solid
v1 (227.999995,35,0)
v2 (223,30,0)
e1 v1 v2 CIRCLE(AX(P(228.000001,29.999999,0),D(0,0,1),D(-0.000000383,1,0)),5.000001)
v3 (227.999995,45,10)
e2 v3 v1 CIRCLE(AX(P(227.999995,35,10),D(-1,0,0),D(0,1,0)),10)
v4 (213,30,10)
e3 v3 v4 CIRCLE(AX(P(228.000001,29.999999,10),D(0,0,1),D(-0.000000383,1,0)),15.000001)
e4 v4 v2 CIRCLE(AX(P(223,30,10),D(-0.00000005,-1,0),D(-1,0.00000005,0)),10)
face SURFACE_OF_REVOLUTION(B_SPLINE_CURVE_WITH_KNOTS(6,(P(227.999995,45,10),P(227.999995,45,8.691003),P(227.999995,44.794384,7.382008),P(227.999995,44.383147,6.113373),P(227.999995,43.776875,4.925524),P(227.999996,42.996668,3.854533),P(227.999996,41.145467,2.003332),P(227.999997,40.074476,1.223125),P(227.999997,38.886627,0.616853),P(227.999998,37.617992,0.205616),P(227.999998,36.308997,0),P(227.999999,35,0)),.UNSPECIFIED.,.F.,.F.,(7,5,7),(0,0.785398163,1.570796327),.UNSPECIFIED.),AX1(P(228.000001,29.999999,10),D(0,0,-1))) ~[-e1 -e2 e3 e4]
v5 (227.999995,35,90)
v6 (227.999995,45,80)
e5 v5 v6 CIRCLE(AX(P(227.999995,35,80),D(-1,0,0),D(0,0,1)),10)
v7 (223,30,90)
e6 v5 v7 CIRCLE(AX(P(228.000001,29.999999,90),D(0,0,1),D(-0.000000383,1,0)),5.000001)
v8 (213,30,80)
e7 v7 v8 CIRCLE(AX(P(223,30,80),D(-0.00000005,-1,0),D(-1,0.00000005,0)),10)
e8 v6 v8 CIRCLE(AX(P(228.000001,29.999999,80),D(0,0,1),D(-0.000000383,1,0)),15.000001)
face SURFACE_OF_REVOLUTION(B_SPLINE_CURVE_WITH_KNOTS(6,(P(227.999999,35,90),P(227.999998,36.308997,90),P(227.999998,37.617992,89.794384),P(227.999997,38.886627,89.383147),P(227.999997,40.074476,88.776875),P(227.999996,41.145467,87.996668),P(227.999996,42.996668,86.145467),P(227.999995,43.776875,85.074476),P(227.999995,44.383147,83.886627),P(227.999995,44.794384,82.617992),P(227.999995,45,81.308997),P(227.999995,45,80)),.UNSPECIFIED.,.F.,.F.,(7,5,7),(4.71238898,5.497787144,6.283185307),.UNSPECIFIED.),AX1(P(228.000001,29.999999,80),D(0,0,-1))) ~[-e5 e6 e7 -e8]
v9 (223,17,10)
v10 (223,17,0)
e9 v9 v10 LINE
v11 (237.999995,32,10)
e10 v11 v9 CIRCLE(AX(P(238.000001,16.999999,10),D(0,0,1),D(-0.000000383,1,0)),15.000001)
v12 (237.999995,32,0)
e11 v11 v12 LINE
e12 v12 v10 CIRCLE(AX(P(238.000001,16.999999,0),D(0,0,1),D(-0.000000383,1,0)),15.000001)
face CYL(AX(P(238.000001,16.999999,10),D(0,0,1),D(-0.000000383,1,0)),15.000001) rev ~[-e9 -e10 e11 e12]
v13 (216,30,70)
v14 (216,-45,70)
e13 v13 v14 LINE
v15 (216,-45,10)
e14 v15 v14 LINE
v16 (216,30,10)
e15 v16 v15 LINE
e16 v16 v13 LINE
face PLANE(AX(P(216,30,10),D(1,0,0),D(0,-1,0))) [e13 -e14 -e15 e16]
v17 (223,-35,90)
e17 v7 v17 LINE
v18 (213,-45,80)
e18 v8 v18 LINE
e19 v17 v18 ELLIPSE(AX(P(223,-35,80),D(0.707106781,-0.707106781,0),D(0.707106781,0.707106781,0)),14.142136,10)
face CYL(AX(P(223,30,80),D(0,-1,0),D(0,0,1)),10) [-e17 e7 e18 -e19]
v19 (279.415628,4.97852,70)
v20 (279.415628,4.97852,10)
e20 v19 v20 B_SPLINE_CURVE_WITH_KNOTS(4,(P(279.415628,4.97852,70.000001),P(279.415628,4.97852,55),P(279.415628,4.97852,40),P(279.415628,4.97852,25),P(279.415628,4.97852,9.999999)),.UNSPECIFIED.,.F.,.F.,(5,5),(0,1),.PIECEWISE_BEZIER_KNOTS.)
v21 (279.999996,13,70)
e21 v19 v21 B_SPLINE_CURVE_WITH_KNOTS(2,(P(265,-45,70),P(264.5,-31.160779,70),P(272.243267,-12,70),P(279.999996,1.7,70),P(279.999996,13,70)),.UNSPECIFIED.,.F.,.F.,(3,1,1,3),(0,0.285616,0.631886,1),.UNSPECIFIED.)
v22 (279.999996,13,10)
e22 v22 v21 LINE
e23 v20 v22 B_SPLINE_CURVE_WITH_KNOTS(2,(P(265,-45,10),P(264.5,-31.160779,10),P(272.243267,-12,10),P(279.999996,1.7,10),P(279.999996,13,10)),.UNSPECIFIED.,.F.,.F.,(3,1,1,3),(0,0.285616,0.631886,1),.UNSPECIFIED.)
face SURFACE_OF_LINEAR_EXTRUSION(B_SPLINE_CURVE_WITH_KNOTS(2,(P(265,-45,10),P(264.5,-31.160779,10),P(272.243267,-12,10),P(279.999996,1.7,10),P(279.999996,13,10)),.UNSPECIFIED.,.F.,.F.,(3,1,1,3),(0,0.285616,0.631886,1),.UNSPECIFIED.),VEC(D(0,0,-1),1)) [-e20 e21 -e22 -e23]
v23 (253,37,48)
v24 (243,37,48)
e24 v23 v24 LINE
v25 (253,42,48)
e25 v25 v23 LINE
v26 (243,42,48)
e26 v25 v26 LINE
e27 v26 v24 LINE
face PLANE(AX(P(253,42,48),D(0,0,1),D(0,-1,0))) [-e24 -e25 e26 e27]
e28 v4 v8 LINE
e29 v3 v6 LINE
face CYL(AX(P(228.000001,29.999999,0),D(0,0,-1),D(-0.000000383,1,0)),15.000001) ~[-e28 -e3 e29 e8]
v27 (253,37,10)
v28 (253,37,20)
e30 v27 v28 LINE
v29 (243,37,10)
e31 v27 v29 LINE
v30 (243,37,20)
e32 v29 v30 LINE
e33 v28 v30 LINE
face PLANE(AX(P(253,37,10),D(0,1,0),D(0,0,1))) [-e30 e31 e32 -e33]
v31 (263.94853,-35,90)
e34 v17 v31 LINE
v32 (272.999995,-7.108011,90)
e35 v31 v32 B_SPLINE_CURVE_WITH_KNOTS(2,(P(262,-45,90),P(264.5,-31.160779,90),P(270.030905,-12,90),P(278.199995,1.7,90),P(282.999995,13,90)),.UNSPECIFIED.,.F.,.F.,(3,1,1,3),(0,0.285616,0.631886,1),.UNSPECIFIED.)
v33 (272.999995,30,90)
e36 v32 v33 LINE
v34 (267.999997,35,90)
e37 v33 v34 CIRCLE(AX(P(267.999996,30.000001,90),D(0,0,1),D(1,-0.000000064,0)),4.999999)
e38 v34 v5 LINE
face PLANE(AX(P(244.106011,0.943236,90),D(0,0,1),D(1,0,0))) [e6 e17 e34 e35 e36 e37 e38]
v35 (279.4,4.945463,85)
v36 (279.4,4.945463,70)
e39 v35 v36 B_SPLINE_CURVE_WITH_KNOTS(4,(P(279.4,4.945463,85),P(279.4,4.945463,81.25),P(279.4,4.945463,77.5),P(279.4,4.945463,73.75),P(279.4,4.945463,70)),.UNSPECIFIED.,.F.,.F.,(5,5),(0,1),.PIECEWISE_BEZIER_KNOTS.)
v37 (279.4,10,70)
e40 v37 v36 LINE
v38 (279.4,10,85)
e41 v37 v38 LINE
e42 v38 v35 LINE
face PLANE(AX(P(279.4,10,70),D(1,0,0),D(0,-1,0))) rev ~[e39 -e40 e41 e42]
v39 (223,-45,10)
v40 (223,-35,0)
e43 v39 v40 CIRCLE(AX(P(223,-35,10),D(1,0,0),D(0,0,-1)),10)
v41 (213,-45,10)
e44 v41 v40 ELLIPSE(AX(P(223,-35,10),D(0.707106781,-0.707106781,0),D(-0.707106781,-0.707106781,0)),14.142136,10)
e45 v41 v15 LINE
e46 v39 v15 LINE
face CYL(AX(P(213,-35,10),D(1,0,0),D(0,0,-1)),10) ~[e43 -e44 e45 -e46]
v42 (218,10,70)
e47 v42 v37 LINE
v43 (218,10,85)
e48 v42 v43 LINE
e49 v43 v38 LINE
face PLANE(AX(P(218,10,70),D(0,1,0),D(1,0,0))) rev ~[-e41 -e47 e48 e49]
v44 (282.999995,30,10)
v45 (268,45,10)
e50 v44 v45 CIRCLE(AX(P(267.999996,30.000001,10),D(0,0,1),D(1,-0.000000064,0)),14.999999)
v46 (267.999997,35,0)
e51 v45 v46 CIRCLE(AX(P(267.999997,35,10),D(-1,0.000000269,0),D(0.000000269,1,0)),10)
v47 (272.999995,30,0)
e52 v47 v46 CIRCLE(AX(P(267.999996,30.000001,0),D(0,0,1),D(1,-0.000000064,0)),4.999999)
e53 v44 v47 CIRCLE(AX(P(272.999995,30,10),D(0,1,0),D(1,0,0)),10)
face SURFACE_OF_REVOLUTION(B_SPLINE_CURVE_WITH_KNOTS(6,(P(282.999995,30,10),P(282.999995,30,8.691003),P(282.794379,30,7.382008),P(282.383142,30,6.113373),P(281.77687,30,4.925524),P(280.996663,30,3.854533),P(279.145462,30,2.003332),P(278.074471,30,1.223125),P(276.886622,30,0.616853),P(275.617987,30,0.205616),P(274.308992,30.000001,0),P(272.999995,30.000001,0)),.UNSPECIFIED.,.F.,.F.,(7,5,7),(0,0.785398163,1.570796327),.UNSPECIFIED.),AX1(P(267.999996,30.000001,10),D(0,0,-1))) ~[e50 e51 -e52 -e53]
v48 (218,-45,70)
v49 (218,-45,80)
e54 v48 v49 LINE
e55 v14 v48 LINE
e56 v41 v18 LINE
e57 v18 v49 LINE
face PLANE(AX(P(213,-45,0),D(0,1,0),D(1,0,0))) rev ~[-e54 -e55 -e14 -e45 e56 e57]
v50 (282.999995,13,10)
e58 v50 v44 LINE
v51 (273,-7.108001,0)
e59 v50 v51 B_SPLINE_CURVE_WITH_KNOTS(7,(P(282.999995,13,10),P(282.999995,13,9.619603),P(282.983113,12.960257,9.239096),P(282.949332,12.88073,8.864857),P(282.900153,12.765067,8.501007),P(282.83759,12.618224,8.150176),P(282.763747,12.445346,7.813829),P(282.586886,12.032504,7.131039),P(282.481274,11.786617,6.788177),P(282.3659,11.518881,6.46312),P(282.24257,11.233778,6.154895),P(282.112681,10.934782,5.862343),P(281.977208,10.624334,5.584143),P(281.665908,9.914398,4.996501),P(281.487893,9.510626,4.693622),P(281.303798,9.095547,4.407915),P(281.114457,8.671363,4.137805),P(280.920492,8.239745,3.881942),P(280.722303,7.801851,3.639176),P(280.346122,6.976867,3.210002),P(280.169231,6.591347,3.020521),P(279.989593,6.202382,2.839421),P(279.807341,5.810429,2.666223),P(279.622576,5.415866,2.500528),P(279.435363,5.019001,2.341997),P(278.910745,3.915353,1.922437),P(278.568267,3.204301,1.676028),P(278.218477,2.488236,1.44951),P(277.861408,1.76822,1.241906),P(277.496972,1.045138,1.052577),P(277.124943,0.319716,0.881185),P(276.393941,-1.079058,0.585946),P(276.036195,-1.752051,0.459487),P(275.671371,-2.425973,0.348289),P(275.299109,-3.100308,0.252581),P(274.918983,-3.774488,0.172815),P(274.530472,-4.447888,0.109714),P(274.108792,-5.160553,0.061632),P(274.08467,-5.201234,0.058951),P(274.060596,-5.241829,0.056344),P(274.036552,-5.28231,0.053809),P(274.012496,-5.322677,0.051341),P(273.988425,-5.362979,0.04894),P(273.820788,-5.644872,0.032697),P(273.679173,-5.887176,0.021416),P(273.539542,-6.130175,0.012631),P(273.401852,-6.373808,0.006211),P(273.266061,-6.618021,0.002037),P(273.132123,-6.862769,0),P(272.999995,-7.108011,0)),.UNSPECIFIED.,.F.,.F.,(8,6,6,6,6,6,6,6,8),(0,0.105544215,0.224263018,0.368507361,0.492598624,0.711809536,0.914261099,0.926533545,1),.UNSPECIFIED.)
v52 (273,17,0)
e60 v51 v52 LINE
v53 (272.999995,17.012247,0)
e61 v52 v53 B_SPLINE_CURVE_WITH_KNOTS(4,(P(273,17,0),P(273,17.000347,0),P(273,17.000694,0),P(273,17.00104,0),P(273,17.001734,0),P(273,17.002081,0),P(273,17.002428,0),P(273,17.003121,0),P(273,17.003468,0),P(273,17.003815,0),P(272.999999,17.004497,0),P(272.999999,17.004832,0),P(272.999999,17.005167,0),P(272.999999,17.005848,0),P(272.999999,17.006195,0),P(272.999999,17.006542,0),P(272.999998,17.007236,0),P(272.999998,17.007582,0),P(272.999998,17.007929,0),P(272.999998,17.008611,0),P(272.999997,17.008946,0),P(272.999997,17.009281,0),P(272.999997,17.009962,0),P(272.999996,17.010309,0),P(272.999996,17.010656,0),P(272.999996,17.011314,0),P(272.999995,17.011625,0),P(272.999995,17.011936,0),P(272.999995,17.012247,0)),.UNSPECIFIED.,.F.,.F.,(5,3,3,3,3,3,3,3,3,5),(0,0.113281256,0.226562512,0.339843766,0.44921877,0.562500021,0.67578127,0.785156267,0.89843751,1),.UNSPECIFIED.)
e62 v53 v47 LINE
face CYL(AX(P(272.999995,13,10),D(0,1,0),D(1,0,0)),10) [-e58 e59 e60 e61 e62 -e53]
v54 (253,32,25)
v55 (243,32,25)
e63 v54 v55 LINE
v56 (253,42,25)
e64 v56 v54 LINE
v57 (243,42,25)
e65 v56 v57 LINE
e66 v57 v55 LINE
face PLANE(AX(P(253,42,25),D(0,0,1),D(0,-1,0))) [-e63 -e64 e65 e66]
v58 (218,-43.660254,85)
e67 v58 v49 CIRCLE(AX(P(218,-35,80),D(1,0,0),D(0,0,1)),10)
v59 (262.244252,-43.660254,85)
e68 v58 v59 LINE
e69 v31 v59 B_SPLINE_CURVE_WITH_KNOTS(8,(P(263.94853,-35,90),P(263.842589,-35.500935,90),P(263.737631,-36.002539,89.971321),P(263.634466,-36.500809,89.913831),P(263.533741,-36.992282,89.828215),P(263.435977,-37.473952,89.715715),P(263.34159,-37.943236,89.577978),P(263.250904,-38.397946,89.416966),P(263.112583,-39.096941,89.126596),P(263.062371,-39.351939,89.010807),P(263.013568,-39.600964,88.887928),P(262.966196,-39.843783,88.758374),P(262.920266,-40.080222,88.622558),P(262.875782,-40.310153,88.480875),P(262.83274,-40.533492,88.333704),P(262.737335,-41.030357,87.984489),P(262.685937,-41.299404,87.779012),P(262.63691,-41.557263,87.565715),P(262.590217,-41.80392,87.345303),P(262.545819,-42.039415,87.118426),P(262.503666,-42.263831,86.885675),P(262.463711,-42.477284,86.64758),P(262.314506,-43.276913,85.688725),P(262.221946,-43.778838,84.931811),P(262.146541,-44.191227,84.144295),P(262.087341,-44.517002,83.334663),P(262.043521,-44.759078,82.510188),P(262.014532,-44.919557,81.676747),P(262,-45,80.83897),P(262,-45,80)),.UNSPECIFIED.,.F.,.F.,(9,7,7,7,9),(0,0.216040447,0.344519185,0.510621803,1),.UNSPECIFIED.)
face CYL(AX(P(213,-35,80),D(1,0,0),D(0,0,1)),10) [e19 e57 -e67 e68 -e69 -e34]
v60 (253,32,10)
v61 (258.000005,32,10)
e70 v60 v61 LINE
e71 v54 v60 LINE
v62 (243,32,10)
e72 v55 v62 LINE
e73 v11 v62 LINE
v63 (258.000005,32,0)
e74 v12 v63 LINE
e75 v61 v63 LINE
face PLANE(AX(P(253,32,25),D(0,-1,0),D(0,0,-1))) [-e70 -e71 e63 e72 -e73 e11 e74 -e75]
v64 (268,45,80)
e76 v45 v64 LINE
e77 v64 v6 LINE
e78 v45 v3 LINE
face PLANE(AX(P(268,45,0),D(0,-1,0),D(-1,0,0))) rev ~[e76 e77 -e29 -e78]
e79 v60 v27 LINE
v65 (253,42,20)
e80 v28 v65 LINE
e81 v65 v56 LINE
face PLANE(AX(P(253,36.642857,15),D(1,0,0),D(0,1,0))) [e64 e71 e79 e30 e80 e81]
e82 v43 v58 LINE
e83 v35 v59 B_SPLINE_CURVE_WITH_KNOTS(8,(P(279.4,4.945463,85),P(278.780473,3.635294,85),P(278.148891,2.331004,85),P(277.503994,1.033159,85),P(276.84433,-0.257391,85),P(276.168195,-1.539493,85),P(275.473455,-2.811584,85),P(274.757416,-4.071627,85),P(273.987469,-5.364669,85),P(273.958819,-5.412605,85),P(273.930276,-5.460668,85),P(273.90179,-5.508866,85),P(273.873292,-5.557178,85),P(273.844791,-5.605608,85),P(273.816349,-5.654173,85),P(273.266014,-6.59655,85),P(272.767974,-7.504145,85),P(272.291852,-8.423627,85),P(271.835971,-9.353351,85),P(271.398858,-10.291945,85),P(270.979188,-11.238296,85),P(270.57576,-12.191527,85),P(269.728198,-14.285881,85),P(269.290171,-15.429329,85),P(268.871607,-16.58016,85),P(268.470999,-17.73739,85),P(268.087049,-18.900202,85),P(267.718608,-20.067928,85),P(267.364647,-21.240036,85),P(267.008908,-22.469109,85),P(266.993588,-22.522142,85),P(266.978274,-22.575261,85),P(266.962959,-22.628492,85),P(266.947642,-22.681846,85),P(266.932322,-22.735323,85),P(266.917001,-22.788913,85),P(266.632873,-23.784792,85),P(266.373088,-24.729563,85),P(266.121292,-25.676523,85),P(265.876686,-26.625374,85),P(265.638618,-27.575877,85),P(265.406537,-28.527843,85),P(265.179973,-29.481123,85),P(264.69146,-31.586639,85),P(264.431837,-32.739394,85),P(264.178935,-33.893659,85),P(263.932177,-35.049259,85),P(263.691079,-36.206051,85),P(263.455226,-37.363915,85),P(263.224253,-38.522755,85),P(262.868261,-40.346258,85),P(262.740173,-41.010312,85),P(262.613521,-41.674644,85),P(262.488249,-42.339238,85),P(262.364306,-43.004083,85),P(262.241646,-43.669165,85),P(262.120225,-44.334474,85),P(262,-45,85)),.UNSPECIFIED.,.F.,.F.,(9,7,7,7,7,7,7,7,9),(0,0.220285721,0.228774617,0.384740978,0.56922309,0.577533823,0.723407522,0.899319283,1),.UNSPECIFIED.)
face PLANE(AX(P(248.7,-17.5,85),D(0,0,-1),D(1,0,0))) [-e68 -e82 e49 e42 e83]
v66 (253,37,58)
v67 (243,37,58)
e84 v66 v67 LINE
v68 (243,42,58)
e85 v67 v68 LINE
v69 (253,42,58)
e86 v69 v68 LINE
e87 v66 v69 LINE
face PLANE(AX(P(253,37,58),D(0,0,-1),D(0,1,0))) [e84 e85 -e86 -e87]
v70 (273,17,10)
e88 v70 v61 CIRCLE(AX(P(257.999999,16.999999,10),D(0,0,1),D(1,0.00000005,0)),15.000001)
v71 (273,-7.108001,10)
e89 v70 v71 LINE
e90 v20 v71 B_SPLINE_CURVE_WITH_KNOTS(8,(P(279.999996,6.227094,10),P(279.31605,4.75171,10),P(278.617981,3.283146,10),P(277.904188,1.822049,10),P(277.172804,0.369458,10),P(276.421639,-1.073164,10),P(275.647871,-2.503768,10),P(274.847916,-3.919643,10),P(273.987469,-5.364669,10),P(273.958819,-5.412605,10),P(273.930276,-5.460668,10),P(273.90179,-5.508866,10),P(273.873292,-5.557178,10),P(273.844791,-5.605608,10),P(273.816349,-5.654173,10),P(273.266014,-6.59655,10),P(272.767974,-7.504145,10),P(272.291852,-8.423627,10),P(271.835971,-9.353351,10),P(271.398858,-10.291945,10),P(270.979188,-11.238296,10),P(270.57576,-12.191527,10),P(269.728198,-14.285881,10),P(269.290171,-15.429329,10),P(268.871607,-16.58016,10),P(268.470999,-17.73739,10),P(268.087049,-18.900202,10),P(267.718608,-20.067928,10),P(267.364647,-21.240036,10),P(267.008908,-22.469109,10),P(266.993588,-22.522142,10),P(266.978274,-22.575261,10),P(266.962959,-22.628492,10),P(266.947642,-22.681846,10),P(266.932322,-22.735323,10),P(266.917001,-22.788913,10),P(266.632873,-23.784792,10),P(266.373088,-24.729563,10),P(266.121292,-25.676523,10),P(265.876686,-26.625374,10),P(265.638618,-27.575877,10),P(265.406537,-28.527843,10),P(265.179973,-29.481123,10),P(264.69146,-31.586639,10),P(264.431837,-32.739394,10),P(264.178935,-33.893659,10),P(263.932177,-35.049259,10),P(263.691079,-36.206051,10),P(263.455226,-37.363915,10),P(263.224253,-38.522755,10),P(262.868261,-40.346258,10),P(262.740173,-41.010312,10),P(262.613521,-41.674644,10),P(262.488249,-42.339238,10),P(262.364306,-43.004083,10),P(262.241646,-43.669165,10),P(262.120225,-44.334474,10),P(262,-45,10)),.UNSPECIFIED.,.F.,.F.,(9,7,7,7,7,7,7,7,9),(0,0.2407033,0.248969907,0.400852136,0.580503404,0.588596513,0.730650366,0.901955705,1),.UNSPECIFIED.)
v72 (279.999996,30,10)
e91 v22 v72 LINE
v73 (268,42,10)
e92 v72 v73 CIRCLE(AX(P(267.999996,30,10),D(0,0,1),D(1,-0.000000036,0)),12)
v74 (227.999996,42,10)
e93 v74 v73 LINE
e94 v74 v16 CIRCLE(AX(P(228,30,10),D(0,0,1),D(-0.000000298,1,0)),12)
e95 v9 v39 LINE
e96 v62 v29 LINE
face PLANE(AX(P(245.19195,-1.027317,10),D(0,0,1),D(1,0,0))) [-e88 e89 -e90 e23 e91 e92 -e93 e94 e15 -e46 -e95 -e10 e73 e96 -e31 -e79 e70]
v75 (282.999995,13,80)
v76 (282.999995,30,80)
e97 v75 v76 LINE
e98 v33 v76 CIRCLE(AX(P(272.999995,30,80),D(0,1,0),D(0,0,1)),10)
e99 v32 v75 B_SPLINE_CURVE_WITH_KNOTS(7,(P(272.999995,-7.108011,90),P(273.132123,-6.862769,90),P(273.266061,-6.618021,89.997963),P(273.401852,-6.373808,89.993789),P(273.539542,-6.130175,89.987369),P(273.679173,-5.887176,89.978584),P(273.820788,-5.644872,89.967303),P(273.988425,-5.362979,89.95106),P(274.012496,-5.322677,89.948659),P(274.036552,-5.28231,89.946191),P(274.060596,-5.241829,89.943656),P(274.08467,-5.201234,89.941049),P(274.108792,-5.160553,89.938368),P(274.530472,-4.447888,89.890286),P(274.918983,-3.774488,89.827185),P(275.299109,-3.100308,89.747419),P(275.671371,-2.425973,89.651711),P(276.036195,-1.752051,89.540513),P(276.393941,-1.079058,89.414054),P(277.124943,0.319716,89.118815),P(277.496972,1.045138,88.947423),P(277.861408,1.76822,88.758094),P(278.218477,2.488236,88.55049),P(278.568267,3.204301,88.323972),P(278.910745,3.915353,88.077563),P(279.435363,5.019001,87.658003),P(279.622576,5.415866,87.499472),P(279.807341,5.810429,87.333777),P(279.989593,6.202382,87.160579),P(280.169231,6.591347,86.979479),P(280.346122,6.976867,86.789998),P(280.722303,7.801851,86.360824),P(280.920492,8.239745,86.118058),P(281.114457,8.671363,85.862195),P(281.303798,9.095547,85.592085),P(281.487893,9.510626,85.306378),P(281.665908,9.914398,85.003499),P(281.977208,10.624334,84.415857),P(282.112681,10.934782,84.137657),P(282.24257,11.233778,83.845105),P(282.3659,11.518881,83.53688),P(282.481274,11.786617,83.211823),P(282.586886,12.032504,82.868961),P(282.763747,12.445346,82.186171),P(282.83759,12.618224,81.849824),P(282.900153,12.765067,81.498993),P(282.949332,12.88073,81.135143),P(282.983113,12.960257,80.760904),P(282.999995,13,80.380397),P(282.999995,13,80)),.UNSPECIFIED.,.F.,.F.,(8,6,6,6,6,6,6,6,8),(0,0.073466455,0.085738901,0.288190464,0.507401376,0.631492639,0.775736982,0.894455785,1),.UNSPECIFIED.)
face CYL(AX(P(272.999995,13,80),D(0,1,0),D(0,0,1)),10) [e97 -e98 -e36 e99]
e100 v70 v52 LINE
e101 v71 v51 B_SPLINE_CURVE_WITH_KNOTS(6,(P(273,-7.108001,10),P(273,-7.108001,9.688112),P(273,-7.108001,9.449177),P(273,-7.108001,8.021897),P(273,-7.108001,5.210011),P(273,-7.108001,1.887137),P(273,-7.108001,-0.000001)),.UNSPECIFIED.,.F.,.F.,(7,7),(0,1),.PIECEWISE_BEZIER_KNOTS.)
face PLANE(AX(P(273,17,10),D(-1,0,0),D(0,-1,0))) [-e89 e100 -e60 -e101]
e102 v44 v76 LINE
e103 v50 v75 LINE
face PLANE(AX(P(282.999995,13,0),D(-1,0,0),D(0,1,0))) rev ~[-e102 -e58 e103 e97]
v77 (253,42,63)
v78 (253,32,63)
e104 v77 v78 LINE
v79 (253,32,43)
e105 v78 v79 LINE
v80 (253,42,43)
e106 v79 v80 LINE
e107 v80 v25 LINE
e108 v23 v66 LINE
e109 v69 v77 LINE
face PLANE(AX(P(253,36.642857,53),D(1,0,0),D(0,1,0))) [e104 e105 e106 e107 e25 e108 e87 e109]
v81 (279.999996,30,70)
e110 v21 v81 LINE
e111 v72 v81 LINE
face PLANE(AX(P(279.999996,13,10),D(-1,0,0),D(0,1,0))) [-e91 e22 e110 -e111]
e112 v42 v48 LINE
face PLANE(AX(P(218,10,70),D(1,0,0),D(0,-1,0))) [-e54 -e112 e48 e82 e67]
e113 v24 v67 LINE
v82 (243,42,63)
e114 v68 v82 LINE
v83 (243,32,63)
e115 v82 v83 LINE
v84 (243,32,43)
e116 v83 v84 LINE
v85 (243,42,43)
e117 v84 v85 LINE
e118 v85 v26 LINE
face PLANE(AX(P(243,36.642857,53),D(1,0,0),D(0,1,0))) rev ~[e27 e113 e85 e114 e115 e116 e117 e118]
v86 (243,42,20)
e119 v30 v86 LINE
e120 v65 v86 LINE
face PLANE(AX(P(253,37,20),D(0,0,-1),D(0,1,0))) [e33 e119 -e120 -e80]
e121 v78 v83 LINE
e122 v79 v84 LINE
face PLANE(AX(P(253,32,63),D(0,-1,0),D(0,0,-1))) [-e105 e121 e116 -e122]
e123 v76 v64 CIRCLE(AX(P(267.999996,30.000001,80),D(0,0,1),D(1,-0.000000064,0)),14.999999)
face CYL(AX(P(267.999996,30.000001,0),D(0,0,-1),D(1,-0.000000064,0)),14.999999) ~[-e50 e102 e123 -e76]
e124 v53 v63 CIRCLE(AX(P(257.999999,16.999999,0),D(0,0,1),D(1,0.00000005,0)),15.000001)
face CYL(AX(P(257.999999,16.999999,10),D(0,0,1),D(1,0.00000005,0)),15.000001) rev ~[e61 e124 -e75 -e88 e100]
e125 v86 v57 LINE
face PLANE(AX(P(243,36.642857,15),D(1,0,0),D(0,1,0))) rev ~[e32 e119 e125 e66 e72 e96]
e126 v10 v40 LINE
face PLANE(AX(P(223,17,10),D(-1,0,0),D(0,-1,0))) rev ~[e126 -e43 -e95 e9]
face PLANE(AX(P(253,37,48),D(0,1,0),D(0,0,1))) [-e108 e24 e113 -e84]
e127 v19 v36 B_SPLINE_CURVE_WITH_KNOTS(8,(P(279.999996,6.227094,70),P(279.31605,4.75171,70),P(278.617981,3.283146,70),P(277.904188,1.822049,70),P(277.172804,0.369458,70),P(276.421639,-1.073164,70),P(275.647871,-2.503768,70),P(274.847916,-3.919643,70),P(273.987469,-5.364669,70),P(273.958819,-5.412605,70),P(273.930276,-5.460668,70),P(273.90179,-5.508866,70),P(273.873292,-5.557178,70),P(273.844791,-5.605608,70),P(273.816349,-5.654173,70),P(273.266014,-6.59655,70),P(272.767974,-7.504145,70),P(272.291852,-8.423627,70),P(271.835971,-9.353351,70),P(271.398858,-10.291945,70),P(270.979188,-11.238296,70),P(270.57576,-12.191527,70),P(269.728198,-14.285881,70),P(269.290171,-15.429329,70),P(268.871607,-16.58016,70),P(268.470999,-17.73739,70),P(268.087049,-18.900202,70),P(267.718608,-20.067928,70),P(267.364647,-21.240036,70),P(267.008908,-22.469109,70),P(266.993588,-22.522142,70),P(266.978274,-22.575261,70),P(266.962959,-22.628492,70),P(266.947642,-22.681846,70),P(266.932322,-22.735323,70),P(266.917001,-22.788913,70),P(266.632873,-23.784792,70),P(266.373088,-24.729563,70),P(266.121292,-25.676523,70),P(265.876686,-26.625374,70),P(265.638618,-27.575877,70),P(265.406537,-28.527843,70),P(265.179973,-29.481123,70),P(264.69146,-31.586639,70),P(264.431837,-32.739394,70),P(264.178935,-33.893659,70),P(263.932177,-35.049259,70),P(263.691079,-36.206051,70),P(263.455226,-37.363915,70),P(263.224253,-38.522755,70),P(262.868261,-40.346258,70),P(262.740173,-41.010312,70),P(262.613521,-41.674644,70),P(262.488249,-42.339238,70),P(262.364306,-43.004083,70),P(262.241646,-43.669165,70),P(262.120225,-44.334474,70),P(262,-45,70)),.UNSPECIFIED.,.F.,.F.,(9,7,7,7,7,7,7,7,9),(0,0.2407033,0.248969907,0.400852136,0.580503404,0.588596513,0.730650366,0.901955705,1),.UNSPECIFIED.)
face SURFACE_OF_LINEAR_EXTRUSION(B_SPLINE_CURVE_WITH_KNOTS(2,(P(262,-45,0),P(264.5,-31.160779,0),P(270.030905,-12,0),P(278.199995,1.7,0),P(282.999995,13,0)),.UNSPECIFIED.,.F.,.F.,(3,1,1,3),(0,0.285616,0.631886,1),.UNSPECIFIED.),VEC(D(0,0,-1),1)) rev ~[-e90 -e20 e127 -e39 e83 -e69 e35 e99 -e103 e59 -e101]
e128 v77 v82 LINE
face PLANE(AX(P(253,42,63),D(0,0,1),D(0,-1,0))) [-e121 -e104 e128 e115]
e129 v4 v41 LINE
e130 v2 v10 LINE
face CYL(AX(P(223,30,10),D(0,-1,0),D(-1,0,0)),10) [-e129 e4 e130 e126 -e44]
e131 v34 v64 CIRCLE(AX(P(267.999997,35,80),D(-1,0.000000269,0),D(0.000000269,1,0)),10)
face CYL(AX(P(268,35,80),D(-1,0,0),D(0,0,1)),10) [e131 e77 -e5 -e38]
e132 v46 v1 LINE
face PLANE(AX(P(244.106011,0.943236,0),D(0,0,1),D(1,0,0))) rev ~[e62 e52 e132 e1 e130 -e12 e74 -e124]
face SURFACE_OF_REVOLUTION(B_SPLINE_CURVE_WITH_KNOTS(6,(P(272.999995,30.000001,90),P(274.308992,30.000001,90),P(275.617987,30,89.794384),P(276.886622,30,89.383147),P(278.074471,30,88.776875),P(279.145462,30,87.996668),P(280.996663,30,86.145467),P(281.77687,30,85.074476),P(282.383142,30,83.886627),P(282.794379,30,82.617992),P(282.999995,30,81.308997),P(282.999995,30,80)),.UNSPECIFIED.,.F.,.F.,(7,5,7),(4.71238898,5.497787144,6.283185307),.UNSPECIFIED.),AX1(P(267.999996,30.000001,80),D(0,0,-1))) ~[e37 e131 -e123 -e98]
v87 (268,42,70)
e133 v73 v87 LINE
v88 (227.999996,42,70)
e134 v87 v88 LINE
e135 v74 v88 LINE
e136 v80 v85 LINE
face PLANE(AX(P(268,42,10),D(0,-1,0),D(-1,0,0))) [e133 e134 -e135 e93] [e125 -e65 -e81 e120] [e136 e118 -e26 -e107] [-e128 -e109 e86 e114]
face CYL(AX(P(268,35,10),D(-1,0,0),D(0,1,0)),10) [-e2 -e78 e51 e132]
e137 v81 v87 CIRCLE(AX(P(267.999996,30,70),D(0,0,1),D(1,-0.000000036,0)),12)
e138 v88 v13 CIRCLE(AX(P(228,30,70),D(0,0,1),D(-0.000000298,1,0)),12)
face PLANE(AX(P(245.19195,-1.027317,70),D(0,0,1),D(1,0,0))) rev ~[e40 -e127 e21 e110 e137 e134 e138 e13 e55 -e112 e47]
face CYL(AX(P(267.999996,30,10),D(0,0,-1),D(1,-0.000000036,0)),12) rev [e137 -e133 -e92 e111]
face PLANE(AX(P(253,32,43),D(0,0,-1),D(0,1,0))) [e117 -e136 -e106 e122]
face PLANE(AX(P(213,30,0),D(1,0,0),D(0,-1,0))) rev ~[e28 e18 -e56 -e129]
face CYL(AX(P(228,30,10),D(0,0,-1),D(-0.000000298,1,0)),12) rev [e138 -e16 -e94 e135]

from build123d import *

# Parameters (mm, degrees)
PAD004_DEPTH    = 90
POCKET007_START = 10
POCKET007_DEPTH = 60
FILLET008_R     = 10
SKETCH015_W     = 61.4
SKETCH015_H     = 55
POCKET008_DEPTH = 15
POCKET009_DEPTH = 10.001
PAD005_DEPTH    = 10


with BuildPart() as part:
    # Sketch013 → Pad004 (new body)
    with BuildSketch(Plane.XY):
        with BuildLine():
            ThreePointArc((29.999995, 30), (25.606599, 40.6066), (15, 45))
            Line((15, 45), (-25.000005, 45))
            ThreePointArc((-25.000005, 45), (-35.606603, 40.6066), (-40, 30))
            Line((-40, 30), (-40, -45))
            Line((-40, -45), (9, -45))
            add(Edge.make_bspline(
                [(9, -45), (11.5, -31.160779), (17.030905, -12), (25.199995, 1.7), (29.999995, 13)],
                knots=[0, 0, 0, 0.285616, 0.631886, 1, 1, 1], degree=2))
            Line((29.999995, 13), (29.999995, 30))
        make_face()
    extrude(amount=PAD004_DEPTH)

    # Sketch014 → Pocket007 (cut)
    with BuildSketch(Plane.XY.offset(POCKET007_START)):
        with BuildLine():
            ThreePointArc((26.999996, 30), (23.485279, 38.48528), (15, 42))
            Line((15, 42), (-25.000004, 42))
            ThreePointArc((-25.000004, 42), (-33.485283, 38.48528), (-37, 30))
            Line((-37, 30), (-37, -45))
            Line((-37, -45), (12, -45))
            add(Edge.make_bspline(
                [(12, -45), (11.5, -31.160779), (19.243267, -12), (26.999996, 1.7), (26.999996, 13)],
                knots=[0, 0, 0, 0.285616, 0.631886, 1, 1, 1], degree=2))
            Line((26.999996, 13), (26.999996, 30))
        make_face()
    extrude(amount=POCKET007_DEPTH, mode=Mode.SUBTRACT)

    # Fillet008
    fillet008_edges = [part.edges().sort_by_distance(p)[0] for p in [
        (-15.5, -45, 90),
        (-40, -7.5, 90),
        (-35.606603, 40.6066, 90),
        (-5.000002, 45, 90),
        (25.606599, 40.6066, 90),
        (29.999995, 21.5, 90),
        (29.999995, 21.5, 0),
        (25.606599, 40.6066, 0),
        (-5.000002, 45, 0),
        (-35.606603, 40.6066, 0),
        (-40, -7.5, 0),
        (-15.5, -45, 0),
    ]]
    fillet(fillet008_edges, radius=FILLET008_R)

    # Sketch015 (on Face17 of Fillet008) → Pocket008 (cut)
    with BuildSketch(Plane(origin=(0, 0, 70), x_dir=(1, 0, 0), z_dir=(0, 0, -1))):
        with Locations((-4.3, 17.5)):
            Rectangle(SKETCH015_W, SKETCH015_H)
    extrude(amount=-POCKET008_DEPTH, mode=Mode.SUBTRACT)

    # Sketch017 (on Face19 of Pocket008) → Pocket009 (cut, through all)
    with BuildSketch(Plane.XY.offset(10)):
        with BuildLine():
            ThreePointArc((-15.000005, 32), (-25.606603, 27.6066), (-30, 17))
            Line((-30, 17), (-30, -45))
            Line((-30, -45), (20, -45))
            Line((20, 17), (20, -45))
            ThreePointArc((20, 17), (15.606603, 27.6066), (5.000005, 32))
            Line((-15.000005, 32), (5.000005, 32))
        make_face()
    extrude(amount=-POCKET009_DEPTH, mode=Mode.SUBTRACT)

    # Sketch016 → Pad005 (join)
    with BuildSketch(Plane.YZ):
        Polygon((32, 63), (32, 43), (42, 43), (42, 48), (37, 48), (37, 58), (42, 58), (42, 63), align=None)
        Polygon((32, 25), (32, 5), (42, 5), (42, 10), (37, 10), (37, 20), (42, 20), (42, 25), align=None)
    extrude(amount=-PAD005_DEPTH)


with BuildPart() as part_1:
    # Body007 placement: moved
    add(part.part.moved(Location((253, 0, 0))))


solid = part_1.part
